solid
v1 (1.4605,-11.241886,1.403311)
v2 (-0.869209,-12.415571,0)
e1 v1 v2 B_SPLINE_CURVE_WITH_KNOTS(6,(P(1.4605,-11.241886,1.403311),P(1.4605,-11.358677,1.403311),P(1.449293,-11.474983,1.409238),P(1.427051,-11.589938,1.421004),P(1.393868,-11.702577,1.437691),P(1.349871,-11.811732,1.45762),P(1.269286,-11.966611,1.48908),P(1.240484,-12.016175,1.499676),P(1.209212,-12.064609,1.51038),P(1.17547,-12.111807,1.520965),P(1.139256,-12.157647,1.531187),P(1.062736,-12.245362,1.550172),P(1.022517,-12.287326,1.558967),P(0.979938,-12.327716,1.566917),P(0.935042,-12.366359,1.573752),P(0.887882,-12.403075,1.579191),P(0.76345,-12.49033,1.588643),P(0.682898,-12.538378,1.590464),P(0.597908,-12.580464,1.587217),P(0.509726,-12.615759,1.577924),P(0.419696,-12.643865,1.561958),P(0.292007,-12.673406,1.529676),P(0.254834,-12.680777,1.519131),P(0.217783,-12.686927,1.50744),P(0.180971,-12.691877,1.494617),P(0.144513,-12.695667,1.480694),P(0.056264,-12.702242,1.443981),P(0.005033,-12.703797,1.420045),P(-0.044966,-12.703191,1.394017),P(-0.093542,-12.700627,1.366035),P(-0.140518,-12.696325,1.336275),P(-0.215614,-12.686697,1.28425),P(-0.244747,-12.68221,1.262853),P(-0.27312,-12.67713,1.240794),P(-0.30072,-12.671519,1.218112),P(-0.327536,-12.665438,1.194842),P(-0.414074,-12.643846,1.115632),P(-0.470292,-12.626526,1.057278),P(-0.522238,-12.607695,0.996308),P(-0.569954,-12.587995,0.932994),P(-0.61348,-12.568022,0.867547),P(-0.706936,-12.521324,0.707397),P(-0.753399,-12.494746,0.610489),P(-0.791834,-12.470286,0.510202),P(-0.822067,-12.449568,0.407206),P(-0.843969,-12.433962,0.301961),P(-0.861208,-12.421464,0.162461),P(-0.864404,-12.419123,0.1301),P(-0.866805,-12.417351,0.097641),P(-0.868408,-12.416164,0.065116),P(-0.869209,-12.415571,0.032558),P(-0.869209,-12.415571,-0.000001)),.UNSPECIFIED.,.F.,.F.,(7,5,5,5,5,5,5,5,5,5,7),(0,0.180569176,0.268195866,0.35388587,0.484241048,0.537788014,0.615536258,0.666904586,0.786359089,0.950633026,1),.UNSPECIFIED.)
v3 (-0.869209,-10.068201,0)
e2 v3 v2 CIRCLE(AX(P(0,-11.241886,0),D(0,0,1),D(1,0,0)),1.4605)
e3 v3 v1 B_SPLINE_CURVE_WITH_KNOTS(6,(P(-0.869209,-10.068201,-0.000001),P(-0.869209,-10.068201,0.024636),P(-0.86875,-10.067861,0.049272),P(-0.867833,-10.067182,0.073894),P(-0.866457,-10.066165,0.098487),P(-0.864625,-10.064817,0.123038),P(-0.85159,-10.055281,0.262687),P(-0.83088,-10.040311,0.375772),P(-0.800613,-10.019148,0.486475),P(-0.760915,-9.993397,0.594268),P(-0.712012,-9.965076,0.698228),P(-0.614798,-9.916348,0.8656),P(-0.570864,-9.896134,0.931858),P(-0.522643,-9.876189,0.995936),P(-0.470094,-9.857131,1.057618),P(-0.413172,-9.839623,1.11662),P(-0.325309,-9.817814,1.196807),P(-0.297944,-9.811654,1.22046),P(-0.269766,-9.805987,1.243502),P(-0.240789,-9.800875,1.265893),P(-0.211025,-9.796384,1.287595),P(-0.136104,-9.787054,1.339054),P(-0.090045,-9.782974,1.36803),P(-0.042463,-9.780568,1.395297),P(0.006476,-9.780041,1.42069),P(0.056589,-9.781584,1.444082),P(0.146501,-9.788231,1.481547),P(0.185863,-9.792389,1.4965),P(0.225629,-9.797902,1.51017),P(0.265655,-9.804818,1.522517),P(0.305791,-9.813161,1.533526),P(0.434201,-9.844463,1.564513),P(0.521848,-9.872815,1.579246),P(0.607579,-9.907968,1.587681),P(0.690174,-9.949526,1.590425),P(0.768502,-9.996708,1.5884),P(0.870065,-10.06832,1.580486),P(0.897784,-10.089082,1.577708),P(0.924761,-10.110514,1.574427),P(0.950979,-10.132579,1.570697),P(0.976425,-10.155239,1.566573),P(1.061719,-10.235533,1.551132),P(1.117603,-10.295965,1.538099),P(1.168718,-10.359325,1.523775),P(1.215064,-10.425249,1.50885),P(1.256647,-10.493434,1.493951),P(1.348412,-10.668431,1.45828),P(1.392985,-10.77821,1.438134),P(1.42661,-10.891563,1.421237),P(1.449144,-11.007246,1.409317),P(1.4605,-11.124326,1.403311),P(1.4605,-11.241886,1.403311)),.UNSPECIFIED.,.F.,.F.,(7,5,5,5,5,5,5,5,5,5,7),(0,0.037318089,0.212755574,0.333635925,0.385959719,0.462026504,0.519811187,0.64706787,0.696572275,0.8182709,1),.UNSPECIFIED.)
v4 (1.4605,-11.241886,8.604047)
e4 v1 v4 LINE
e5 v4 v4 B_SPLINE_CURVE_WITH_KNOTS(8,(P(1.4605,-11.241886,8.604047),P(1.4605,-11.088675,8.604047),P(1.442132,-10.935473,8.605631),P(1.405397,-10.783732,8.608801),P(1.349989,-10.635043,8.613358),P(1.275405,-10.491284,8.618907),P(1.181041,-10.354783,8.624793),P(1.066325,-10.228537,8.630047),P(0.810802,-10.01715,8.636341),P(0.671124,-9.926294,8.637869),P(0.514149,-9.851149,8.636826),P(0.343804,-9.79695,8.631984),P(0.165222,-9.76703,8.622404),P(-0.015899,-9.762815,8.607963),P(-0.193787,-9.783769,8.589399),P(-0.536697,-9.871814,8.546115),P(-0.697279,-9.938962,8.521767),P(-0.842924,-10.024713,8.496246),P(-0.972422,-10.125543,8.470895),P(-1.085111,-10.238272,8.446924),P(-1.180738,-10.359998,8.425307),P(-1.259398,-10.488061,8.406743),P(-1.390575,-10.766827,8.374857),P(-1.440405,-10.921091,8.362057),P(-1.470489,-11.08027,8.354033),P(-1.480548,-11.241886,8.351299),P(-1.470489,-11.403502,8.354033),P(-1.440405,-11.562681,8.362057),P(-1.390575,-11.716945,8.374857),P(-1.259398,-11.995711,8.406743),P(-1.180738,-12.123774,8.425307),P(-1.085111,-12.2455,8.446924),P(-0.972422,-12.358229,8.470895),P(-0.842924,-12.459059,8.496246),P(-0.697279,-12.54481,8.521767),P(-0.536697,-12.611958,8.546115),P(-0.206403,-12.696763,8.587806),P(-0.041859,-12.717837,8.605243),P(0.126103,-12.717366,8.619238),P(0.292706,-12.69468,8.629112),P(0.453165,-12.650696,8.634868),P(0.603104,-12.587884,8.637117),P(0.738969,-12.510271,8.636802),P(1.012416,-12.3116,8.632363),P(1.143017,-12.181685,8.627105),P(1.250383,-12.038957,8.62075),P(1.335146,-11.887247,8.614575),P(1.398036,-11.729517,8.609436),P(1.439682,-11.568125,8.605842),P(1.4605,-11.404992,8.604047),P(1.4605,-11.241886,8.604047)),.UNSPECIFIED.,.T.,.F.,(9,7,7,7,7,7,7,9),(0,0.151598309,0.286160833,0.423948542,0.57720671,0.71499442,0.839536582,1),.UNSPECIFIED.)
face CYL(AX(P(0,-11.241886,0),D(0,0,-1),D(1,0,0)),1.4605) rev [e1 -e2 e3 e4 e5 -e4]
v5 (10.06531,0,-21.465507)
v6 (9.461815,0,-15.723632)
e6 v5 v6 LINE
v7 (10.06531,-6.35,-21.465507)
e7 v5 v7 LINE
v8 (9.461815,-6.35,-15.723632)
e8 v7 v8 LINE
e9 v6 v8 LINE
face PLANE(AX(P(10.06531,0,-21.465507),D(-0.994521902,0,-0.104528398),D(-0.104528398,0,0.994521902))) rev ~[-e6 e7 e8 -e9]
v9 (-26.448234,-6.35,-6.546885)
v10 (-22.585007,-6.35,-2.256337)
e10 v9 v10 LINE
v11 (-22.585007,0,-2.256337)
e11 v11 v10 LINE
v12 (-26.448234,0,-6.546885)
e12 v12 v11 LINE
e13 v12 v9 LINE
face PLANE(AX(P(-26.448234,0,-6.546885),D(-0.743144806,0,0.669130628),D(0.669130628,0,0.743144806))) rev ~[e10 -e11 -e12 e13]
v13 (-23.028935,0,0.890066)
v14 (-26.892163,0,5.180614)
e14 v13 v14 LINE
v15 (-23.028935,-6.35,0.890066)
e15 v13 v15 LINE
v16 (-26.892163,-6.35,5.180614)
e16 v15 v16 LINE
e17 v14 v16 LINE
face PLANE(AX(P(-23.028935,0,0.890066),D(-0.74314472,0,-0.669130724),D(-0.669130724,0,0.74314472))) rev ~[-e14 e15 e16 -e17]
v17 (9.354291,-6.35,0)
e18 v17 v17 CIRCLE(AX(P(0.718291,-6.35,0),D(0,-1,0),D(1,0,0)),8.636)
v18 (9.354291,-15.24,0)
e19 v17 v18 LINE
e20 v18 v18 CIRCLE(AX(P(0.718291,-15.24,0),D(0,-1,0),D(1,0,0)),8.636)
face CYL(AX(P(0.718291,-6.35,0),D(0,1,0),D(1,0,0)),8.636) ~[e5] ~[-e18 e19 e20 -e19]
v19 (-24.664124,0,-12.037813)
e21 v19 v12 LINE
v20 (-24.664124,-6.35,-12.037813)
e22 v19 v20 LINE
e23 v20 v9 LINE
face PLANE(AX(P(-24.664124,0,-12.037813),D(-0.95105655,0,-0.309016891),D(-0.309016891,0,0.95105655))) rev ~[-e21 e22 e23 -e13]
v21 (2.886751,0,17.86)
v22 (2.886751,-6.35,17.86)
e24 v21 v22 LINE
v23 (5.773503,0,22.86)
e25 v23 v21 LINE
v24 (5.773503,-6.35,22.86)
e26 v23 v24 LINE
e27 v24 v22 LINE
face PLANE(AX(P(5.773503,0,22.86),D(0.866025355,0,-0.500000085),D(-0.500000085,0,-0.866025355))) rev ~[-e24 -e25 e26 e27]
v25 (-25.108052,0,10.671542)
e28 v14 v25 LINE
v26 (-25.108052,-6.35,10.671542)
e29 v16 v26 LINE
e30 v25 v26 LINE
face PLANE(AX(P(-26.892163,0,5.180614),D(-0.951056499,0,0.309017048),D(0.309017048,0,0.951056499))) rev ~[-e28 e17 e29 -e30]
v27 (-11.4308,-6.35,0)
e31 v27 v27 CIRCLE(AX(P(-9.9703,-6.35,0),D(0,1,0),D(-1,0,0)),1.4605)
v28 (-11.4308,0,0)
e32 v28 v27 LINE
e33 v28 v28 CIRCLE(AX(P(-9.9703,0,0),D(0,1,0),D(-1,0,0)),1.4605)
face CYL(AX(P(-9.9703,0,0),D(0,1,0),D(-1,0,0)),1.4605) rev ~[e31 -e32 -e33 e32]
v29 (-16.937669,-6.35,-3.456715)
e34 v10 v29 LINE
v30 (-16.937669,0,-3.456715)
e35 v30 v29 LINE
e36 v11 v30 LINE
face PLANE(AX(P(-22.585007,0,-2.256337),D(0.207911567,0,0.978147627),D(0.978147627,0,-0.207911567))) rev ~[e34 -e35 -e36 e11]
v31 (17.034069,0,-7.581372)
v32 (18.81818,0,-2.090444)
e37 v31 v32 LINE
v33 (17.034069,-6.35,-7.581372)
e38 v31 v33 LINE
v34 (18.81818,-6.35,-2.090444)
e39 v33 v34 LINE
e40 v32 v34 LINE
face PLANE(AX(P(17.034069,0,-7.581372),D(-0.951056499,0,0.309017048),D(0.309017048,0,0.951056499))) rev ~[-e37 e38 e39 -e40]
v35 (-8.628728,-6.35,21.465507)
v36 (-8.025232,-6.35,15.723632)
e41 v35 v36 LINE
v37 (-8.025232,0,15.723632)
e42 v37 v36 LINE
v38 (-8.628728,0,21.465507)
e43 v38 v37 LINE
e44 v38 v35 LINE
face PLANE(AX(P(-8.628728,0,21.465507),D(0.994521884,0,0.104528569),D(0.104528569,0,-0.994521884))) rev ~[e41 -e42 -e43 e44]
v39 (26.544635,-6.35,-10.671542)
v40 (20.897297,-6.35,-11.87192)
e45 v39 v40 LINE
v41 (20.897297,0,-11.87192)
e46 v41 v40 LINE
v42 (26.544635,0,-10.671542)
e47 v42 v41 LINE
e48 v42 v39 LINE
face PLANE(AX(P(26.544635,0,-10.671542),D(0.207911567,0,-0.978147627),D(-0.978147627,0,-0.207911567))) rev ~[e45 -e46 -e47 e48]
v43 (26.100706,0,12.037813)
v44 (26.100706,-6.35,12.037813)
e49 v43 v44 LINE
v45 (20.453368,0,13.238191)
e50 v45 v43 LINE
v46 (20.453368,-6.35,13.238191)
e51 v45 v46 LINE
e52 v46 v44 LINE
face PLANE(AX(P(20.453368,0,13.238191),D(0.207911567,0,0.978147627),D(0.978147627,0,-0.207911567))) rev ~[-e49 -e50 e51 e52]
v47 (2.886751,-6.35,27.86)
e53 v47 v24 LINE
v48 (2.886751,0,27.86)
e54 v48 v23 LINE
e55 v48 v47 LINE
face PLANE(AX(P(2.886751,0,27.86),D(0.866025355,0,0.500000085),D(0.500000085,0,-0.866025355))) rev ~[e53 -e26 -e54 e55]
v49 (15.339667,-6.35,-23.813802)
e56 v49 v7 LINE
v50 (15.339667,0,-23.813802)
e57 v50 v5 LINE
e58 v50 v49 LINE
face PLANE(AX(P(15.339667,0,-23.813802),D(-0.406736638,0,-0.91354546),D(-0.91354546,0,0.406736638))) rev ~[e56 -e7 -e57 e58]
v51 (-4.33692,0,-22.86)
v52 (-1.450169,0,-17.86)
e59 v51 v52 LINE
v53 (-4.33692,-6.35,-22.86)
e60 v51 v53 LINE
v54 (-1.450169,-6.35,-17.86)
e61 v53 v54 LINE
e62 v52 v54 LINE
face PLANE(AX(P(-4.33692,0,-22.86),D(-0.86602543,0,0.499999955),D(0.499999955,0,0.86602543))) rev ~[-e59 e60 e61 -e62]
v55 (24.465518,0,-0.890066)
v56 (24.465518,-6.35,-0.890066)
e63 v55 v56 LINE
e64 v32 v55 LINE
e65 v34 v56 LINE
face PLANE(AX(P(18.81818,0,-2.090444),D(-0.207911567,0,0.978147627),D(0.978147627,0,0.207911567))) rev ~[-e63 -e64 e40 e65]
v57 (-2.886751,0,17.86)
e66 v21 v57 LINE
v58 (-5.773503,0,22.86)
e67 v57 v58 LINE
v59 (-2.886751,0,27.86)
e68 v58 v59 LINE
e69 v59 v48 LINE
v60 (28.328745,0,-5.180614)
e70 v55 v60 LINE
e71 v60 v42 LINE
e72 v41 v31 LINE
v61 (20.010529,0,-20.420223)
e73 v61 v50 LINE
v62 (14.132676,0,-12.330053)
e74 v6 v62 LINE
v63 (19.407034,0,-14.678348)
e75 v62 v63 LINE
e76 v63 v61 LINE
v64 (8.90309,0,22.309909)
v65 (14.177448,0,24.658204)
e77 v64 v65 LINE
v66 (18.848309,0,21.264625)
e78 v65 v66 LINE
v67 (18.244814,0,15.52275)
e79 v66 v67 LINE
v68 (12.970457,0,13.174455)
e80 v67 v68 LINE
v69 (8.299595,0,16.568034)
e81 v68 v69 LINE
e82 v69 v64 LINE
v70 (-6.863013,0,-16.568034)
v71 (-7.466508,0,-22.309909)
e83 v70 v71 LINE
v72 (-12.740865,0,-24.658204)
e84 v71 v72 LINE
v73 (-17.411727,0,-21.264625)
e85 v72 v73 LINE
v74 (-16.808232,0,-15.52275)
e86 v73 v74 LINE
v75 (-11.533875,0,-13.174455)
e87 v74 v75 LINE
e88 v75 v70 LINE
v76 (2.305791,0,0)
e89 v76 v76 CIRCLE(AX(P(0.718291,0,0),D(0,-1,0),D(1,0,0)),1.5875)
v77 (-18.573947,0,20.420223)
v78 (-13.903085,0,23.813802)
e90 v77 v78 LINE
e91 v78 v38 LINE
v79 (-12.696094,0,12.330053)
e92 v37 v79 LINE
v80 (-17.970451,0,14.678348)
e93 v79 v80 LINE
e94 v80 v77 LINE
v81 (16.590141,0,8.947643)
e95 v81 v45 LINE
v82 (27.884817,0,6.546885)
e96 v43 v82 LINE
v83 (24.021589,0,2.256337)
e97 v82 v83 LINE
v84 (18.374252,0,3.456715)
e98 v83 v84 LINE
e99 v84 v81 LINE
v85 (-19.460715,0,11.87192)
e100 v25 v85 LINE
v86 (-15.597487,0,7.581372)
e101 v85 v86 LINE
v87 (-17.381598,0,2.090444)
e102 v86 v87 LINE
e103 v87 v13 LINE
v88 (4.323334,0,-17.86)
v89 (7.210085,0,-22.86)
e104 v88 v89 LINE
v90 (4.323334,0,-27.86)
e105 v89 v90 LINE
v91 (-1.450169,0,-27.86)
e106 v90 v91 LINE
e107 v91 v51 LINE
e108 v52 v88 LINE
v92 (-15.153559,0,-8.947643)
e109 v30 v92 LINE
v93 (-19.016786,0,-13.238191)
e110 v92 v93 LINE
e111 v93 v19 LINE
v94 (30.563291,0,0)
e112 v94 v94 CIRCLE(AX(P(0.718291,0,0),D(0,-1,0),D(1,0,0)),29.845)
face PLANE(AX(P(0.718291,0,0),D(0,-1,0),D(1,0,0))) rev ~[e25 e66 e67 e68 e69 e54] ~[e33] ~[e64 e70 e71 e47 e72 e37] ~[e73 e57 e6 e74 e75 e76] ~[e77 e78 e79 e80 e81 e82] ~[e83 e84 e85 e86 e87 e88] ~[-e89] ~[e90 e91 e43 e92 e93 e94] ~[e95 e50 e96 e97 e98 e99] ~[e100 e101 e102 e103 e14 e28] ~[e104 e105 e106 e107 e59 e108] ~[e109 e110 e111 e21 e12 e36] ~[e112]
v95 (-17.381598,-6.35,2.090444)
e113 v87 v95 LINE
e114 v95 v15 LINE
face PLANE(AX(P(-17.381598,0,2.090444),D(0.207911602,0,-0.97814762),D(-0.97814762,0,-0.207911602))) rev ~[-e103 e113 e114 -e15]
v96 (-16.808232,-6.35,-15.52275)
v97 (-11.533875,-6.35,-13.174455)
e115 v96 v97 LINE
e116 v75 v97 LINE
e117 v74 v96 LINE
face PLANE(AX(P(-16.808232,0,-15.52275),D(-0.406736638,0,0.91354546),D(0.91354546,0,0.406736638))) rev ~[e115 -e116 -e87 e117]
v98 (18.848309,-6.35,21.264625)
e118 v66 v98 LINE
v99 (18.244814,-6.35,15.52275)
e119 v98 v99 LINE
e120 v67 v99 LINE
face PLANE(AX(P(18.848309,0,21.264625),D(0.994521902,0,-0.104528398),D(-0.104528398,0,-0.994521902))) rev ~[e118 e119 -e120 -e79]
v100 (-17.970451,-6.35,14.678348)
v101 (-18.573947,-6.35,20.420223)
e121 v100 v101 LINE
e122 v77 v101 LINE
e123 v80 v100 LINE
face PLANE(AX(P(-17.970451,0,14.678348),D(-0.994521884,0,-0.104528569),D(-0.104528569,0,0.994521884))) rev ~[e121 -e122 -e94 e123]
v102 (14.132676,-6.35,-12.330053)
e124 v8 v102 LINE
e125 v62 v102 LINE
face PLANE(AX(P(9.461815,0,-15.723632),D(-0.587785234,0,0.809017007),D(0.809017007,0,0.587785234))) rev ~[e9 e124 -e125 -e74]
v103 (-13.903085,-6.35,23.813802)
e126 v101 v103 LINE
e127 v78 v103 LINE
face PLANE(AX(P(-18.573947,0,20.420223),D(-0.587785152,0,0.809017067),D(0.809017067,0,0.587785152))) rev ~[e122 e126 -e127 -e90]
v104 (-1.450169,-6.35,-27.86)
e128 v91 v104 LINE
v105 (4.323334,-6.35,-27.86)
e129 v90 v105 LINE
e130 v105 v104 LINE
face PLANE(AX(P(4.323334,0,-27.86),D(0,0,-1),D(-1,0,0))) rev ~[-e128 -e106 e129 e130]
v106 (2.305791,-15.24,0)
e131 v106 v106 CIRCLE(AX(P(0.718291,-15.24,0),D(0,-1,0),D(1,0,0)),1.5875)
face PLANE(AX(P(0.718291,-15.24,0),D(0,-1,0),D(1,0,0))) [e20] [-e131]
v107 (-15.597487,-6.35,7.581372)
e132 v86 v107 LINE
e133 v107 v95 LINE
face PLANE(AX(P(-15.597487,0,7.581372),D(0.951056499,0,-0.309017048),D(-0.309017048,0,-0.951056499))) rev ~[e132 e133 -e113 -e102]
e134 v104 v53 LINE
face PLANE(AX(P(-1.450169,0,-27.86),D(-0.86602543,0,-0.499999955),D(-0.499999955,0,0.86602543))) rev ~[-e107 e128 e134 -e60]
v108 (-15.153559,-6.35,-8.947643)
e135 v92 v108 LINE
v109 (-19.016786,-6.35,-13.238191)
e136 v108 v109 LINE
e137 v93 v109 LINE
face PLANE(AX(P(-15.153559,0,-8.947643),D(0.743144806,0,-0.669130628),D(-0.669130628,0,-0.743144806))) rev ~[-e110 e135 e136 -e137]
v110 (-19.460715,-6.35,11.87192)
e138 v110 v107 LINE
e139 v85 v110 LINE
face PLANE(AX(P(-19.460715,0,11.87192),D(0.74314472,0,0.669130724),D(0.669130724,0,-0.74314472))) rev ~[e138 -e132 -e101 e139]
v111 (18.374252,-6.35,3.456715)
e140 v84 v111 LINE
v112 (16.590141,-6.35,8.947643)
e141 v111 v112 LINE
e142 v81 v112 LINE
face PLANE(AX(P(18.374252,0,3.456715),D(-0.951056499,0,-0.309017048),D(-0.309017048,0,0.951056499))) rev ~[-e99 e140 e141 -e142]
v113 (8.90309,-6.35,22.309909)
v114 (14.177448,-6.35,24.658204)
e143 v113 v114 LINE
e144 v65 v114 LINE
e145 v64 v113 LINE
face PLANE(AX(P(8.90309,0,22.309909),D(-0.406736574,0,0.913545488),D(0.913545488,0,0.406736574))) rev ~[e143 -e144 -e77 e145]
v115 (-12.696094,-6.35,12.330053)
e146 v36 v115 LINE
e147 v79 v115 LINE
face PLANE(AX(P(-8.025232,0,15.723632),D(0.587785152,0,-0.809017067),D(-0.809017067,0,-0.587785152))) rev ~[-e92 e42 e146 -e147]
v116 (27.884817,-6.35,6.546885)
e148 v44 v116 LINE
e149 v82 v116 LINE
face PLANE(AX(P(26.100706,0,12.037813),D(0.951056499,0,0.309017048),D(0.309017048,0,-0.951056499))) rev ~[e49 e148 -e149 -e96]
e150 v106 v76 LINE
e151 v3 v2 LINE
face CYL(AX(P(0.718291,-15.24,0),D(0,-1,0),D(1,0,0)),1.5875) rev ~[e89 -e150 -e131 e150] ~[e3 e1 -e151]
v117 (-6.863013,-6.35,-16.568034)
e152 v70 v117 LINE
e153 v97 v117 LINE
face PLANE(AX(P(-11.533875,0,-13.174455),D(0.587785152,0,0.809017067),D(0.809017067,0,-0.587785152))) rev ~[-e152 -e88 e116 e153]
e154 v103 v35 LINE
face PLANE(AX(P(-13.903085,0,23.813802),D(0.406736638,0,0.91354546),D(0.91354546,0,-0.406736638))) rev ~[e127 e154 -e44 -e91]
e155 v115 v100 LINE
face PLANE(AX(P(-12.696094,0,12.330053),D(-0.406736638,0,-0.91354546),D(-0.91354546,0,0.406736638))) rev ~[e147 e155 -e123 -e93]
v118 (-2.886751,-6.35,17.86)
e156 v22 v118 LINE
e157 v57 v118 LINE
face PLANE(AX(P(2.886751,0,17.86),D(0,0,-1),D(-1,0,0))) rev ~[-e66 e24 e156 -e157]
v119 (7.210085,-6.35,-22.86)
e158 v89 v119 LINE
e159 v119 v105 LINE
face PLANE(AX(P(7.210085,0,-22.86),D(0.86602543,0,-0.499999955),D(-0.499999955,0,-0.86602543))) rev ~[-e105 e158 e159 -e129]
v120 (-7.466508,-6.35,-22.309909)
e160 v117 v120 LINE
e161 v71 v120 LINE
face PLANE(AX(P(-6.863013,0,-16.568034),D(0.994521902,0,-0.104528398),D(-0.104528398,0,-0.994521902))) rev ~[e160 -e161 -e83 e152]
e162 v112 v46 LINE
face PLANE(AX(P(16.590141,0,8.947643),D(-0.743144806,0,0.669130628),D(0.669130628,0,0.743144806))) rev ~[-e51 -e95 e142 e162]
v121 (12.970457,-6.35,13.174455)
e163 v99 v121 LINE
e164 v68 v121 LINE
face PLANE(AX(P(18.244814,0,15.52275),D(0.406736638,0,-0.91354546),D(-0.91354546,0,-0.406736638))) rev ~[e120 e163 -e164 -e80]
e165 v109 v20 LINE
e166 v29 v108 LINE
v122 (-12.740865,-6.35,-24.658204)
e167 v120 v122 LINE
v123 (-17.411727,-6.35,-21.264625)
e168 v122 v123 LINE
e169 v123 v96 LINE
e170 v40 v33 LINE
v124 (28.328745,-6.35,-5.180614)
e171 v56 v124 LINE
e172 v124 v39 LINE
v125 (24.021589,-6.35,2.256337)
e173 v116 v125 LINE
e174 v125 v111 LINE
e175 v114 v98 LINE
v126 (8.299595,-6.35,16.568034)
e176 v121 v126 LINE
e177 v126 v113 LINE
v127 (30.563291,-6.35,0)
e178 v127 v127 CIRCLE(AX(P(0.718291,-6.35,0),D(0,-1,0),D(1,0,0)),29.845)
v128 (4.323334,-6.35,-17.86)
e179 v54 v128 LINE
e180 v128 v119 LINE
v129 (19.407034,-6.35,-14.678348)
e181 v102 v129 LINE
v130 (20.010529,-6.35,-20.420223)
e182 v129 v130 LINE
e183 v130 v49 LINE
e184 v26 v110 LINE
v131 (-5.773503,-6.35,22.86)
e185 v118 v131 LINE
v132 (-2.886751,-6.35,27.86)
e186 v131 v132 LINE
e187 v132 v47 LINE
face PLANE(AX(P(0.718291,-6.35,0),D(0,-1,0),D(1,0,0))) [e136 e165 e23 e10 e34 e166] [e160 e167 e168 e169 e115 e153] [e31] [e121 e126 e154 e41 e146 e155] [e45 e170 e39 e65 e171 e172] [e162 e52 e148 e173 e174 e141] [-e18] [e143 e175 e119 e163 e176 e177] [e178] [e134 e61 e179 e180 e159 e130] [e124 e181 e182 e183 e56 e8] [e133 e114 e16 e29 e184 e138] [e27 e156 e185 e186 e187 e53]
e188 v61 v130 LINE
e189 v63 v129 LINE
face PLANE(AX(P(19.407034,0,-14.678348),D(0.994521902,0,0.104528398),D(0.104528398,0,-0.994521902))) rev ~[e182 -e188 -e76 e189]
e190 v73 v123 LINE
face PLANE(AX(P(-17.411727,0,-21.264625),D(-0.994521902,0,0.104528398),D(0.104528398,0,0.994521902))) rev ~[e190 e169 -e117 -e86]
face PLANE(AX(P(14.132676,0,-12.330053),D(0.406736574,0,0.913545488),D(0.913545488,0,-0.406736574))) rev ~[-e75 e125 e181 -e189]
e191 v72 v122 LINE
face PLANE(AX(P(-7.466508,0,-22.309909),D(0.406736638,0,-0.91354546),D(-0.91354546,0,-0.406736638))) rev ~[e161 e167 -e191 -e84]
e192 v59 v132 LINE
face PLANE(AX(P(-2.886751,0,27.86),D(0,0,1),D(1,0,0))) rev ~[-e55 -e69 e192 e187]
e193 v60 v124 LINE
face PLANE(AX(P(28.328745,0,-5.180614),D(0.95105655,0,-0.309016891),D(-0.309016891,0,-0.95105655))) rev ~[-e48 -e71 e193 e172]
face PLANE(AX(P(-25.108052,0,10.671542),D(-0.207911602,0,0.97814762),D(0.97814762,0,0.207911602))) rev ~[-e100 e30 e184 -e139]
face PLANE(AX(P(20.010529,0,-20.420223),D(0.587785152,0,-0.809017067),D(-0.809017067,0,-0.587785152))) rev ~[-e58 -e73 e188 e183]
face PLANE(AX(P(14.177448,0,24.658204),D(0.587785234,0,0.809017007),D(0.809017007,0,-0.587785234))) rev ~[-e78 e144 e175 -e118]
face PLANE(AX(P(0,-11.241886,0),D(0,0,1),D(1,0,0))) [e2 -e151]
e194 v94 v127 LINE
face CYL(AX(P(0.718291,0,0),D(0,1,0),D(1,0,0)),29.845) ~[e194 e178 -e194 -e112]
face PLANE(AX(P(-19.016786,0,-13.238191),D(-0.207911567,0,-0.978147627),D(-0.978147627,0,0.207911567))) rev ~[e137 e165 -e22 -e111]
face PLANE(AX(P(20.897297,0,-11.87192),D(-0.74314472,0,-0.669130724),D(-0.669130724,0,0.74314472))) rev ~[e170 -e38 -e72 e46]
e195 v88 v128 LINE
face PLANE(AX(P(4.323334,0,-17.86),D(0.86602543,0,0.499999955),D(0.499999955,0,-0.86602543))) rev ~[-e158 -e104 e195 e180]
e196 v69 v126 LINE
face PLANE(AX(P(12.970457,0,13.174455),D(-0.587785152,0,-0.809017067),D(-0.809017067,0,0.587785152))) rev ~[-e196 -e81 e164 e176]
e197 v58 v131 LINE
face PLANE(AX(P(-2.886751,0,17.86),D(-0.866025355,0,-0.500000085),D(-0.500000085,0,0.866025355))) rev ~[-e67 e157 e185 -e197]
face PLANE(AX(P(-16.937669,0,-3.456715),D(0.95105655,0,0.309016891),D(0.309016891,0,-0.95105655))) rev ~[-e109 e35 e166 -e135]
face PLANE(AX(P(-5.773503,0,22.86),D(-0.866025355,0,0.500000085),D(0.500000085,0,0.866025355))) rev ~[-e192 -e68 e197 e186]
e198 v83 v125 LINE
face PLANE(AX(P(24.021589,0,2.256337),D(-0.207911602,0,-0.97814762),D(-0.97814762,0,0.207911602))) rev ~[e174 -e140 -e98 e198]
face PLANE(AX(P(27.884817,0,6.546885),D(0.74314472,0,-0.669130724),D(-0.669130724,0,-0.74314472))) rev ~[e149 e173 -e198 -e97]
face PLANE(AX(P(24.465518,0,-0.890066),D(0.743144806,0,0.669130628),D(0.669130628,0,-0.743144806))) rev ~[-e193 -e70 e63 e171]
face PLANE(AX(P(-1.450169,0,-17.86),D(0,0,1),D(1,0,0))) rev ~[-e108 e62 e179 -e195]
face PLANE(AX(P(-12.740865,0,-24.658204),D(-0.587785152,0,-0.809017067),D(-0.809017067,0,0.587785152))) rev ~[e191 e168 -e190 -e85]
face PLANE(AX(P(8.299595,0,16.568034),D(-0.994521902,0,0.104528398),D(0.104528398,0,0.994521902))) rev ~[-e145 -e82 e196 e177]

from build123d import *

# Parameters (mm, degrees)
F0_R     = 29.845
F1_DEPTH = 6.35
F2_R     = 8.636
F3_DEPTH = 8.89
F4_R     = 1.5875
F5_DEPTH = 15.241
F6_R     = 1.4605
F7_DEPTH = 15.241
F8_R     = 1.4605
F9_DEPTH = 29.846


with BuildPart() as f1:
    # F0 (on Front) → F1 (new body)
    with BuildSketch(Plane.XZ):
        with Locations((0.718291, 0)):
            Circle(F0_R)
        Polygon((-12.740865, -24.658204), (-17.411727, -21.264625), (-16.808232, -15.52275), (-11.533875, -13.174455), (-6.863013, -16.568034), (-7.466508, -22.309909), align=None, mode=Mode.SUBTRACT)
        Polygon((-24.664124, -12.037813), (-26.448234, -6.546885), (-22.585007, -2.256337), (-16.937669, -3.456715), (-15.153559, -8.947643), (-19.016786, -13.238191), align=None, mode=Mode.SUBTRACT)
        Polygon((4.323334, -27.86), (-1.450169, -27.86), (-4.33692, -22.86), (-1.450169, -17.86), (4.323334, -17.86), (7.210085, -22.86), align=None, mode=Mode.SUBTRACT)
        Polygon((20.010529, -20.420223), (15.339667, -23.813802), (10.06531, -21.465507), (9.461815, -15.723632), (14.132676, -12.330053), (19.407034, -14.678348), align=None, mode=Mode.SUBTRACT)
        Polygon((28.328745, -5.180614), (26.544635, -10.671542), (20.897297, -11.87192), (17.034069, -7.581372), (18.81818, -2.090444), (24.465518, -0.890066), align=None, mode=Mode.SUBTRACT)
        Polygon((-26.892163, 5.180614), (-25.108052, 10.671542), (-19.460715, 11.87192), (-15.597487, 7.581372), (-17.381598, 2.090444), (-23.028935, 0.890066), align=None, mode=Mode.SUBTRACT)
        Polygon((-18.573947, 20.420223), (-13.903085, 23.813802), (-8.628728, 21.465507), (-8.025232, 15.723632), (-12.696094, 12.330053), (-17.970451, 14.678348), align=None, mode=Mode.SUBTRACT)
        Polygon((5.773503, 22.86), (2.886751, 17.86), (-2.886751, 17.86), (-5.773503, 22.86), (-2.886751, 27.86), (2.886751, 27.86), align=None, mode=Mode.SUBTRACT)
        Polygon((26.100706, 12.037813), (27.884817, 6.546885), (24.021589, 2.256337), (18.374252, 3.456715), (16.590141, 8.947643), (20.453368, 13.238191), align=None, mode=Mode.SUBTRACT)
        Polygon((14.177448, 24.658204), (18.848309, 21.264625), (18.244814, 15.52275), (12.970457, 13.174455), (8.299595, 16.568034), (8.90309, 22.309909), align=None, mode=Mode.SUBTRACT)
    extrude(amount=F1_DEPTH)

    # F2 (on face) → F3 (join)
    with BuildSketch(Plane.XZ.offset(6.35)):
        with Locations((0.718291, 0)):
            Circle(F2_R)
    extrude(amount=F3_DEPTH)

    # F4 (on face) → F5 (cut, through all)
    with BuildSketch(Plane.XZ.offset(15.24)):
        with Locations((0.718291, 0)):
            Circle(F4_R)
    extrude(amount=-F5_DEPTH, mode=Mode.SUBTRACT)

    # F6 (on face) → F7 (cut, through all)
    with BuildSketch(Plane(origin=(0, 0, 0), x_dir=(-1, 0, 0), z_dir=(0, 1, 0))):
        with Locations((9.9703, 0)):
            Circle(F6_R)
    extrude(amount=-F7_DEPTH, mode=Mode.SUBTRACT)

    # F8 (on Top) → F9 (cut, through all)
    with BuildSketch(Plane.XY):
        with Locations((0, -11.241886)):
            Circle(F8_R)
    extrude(amount=F9_DEPTH, mode=Mode.SUBTRACT)


solid = f1.part
